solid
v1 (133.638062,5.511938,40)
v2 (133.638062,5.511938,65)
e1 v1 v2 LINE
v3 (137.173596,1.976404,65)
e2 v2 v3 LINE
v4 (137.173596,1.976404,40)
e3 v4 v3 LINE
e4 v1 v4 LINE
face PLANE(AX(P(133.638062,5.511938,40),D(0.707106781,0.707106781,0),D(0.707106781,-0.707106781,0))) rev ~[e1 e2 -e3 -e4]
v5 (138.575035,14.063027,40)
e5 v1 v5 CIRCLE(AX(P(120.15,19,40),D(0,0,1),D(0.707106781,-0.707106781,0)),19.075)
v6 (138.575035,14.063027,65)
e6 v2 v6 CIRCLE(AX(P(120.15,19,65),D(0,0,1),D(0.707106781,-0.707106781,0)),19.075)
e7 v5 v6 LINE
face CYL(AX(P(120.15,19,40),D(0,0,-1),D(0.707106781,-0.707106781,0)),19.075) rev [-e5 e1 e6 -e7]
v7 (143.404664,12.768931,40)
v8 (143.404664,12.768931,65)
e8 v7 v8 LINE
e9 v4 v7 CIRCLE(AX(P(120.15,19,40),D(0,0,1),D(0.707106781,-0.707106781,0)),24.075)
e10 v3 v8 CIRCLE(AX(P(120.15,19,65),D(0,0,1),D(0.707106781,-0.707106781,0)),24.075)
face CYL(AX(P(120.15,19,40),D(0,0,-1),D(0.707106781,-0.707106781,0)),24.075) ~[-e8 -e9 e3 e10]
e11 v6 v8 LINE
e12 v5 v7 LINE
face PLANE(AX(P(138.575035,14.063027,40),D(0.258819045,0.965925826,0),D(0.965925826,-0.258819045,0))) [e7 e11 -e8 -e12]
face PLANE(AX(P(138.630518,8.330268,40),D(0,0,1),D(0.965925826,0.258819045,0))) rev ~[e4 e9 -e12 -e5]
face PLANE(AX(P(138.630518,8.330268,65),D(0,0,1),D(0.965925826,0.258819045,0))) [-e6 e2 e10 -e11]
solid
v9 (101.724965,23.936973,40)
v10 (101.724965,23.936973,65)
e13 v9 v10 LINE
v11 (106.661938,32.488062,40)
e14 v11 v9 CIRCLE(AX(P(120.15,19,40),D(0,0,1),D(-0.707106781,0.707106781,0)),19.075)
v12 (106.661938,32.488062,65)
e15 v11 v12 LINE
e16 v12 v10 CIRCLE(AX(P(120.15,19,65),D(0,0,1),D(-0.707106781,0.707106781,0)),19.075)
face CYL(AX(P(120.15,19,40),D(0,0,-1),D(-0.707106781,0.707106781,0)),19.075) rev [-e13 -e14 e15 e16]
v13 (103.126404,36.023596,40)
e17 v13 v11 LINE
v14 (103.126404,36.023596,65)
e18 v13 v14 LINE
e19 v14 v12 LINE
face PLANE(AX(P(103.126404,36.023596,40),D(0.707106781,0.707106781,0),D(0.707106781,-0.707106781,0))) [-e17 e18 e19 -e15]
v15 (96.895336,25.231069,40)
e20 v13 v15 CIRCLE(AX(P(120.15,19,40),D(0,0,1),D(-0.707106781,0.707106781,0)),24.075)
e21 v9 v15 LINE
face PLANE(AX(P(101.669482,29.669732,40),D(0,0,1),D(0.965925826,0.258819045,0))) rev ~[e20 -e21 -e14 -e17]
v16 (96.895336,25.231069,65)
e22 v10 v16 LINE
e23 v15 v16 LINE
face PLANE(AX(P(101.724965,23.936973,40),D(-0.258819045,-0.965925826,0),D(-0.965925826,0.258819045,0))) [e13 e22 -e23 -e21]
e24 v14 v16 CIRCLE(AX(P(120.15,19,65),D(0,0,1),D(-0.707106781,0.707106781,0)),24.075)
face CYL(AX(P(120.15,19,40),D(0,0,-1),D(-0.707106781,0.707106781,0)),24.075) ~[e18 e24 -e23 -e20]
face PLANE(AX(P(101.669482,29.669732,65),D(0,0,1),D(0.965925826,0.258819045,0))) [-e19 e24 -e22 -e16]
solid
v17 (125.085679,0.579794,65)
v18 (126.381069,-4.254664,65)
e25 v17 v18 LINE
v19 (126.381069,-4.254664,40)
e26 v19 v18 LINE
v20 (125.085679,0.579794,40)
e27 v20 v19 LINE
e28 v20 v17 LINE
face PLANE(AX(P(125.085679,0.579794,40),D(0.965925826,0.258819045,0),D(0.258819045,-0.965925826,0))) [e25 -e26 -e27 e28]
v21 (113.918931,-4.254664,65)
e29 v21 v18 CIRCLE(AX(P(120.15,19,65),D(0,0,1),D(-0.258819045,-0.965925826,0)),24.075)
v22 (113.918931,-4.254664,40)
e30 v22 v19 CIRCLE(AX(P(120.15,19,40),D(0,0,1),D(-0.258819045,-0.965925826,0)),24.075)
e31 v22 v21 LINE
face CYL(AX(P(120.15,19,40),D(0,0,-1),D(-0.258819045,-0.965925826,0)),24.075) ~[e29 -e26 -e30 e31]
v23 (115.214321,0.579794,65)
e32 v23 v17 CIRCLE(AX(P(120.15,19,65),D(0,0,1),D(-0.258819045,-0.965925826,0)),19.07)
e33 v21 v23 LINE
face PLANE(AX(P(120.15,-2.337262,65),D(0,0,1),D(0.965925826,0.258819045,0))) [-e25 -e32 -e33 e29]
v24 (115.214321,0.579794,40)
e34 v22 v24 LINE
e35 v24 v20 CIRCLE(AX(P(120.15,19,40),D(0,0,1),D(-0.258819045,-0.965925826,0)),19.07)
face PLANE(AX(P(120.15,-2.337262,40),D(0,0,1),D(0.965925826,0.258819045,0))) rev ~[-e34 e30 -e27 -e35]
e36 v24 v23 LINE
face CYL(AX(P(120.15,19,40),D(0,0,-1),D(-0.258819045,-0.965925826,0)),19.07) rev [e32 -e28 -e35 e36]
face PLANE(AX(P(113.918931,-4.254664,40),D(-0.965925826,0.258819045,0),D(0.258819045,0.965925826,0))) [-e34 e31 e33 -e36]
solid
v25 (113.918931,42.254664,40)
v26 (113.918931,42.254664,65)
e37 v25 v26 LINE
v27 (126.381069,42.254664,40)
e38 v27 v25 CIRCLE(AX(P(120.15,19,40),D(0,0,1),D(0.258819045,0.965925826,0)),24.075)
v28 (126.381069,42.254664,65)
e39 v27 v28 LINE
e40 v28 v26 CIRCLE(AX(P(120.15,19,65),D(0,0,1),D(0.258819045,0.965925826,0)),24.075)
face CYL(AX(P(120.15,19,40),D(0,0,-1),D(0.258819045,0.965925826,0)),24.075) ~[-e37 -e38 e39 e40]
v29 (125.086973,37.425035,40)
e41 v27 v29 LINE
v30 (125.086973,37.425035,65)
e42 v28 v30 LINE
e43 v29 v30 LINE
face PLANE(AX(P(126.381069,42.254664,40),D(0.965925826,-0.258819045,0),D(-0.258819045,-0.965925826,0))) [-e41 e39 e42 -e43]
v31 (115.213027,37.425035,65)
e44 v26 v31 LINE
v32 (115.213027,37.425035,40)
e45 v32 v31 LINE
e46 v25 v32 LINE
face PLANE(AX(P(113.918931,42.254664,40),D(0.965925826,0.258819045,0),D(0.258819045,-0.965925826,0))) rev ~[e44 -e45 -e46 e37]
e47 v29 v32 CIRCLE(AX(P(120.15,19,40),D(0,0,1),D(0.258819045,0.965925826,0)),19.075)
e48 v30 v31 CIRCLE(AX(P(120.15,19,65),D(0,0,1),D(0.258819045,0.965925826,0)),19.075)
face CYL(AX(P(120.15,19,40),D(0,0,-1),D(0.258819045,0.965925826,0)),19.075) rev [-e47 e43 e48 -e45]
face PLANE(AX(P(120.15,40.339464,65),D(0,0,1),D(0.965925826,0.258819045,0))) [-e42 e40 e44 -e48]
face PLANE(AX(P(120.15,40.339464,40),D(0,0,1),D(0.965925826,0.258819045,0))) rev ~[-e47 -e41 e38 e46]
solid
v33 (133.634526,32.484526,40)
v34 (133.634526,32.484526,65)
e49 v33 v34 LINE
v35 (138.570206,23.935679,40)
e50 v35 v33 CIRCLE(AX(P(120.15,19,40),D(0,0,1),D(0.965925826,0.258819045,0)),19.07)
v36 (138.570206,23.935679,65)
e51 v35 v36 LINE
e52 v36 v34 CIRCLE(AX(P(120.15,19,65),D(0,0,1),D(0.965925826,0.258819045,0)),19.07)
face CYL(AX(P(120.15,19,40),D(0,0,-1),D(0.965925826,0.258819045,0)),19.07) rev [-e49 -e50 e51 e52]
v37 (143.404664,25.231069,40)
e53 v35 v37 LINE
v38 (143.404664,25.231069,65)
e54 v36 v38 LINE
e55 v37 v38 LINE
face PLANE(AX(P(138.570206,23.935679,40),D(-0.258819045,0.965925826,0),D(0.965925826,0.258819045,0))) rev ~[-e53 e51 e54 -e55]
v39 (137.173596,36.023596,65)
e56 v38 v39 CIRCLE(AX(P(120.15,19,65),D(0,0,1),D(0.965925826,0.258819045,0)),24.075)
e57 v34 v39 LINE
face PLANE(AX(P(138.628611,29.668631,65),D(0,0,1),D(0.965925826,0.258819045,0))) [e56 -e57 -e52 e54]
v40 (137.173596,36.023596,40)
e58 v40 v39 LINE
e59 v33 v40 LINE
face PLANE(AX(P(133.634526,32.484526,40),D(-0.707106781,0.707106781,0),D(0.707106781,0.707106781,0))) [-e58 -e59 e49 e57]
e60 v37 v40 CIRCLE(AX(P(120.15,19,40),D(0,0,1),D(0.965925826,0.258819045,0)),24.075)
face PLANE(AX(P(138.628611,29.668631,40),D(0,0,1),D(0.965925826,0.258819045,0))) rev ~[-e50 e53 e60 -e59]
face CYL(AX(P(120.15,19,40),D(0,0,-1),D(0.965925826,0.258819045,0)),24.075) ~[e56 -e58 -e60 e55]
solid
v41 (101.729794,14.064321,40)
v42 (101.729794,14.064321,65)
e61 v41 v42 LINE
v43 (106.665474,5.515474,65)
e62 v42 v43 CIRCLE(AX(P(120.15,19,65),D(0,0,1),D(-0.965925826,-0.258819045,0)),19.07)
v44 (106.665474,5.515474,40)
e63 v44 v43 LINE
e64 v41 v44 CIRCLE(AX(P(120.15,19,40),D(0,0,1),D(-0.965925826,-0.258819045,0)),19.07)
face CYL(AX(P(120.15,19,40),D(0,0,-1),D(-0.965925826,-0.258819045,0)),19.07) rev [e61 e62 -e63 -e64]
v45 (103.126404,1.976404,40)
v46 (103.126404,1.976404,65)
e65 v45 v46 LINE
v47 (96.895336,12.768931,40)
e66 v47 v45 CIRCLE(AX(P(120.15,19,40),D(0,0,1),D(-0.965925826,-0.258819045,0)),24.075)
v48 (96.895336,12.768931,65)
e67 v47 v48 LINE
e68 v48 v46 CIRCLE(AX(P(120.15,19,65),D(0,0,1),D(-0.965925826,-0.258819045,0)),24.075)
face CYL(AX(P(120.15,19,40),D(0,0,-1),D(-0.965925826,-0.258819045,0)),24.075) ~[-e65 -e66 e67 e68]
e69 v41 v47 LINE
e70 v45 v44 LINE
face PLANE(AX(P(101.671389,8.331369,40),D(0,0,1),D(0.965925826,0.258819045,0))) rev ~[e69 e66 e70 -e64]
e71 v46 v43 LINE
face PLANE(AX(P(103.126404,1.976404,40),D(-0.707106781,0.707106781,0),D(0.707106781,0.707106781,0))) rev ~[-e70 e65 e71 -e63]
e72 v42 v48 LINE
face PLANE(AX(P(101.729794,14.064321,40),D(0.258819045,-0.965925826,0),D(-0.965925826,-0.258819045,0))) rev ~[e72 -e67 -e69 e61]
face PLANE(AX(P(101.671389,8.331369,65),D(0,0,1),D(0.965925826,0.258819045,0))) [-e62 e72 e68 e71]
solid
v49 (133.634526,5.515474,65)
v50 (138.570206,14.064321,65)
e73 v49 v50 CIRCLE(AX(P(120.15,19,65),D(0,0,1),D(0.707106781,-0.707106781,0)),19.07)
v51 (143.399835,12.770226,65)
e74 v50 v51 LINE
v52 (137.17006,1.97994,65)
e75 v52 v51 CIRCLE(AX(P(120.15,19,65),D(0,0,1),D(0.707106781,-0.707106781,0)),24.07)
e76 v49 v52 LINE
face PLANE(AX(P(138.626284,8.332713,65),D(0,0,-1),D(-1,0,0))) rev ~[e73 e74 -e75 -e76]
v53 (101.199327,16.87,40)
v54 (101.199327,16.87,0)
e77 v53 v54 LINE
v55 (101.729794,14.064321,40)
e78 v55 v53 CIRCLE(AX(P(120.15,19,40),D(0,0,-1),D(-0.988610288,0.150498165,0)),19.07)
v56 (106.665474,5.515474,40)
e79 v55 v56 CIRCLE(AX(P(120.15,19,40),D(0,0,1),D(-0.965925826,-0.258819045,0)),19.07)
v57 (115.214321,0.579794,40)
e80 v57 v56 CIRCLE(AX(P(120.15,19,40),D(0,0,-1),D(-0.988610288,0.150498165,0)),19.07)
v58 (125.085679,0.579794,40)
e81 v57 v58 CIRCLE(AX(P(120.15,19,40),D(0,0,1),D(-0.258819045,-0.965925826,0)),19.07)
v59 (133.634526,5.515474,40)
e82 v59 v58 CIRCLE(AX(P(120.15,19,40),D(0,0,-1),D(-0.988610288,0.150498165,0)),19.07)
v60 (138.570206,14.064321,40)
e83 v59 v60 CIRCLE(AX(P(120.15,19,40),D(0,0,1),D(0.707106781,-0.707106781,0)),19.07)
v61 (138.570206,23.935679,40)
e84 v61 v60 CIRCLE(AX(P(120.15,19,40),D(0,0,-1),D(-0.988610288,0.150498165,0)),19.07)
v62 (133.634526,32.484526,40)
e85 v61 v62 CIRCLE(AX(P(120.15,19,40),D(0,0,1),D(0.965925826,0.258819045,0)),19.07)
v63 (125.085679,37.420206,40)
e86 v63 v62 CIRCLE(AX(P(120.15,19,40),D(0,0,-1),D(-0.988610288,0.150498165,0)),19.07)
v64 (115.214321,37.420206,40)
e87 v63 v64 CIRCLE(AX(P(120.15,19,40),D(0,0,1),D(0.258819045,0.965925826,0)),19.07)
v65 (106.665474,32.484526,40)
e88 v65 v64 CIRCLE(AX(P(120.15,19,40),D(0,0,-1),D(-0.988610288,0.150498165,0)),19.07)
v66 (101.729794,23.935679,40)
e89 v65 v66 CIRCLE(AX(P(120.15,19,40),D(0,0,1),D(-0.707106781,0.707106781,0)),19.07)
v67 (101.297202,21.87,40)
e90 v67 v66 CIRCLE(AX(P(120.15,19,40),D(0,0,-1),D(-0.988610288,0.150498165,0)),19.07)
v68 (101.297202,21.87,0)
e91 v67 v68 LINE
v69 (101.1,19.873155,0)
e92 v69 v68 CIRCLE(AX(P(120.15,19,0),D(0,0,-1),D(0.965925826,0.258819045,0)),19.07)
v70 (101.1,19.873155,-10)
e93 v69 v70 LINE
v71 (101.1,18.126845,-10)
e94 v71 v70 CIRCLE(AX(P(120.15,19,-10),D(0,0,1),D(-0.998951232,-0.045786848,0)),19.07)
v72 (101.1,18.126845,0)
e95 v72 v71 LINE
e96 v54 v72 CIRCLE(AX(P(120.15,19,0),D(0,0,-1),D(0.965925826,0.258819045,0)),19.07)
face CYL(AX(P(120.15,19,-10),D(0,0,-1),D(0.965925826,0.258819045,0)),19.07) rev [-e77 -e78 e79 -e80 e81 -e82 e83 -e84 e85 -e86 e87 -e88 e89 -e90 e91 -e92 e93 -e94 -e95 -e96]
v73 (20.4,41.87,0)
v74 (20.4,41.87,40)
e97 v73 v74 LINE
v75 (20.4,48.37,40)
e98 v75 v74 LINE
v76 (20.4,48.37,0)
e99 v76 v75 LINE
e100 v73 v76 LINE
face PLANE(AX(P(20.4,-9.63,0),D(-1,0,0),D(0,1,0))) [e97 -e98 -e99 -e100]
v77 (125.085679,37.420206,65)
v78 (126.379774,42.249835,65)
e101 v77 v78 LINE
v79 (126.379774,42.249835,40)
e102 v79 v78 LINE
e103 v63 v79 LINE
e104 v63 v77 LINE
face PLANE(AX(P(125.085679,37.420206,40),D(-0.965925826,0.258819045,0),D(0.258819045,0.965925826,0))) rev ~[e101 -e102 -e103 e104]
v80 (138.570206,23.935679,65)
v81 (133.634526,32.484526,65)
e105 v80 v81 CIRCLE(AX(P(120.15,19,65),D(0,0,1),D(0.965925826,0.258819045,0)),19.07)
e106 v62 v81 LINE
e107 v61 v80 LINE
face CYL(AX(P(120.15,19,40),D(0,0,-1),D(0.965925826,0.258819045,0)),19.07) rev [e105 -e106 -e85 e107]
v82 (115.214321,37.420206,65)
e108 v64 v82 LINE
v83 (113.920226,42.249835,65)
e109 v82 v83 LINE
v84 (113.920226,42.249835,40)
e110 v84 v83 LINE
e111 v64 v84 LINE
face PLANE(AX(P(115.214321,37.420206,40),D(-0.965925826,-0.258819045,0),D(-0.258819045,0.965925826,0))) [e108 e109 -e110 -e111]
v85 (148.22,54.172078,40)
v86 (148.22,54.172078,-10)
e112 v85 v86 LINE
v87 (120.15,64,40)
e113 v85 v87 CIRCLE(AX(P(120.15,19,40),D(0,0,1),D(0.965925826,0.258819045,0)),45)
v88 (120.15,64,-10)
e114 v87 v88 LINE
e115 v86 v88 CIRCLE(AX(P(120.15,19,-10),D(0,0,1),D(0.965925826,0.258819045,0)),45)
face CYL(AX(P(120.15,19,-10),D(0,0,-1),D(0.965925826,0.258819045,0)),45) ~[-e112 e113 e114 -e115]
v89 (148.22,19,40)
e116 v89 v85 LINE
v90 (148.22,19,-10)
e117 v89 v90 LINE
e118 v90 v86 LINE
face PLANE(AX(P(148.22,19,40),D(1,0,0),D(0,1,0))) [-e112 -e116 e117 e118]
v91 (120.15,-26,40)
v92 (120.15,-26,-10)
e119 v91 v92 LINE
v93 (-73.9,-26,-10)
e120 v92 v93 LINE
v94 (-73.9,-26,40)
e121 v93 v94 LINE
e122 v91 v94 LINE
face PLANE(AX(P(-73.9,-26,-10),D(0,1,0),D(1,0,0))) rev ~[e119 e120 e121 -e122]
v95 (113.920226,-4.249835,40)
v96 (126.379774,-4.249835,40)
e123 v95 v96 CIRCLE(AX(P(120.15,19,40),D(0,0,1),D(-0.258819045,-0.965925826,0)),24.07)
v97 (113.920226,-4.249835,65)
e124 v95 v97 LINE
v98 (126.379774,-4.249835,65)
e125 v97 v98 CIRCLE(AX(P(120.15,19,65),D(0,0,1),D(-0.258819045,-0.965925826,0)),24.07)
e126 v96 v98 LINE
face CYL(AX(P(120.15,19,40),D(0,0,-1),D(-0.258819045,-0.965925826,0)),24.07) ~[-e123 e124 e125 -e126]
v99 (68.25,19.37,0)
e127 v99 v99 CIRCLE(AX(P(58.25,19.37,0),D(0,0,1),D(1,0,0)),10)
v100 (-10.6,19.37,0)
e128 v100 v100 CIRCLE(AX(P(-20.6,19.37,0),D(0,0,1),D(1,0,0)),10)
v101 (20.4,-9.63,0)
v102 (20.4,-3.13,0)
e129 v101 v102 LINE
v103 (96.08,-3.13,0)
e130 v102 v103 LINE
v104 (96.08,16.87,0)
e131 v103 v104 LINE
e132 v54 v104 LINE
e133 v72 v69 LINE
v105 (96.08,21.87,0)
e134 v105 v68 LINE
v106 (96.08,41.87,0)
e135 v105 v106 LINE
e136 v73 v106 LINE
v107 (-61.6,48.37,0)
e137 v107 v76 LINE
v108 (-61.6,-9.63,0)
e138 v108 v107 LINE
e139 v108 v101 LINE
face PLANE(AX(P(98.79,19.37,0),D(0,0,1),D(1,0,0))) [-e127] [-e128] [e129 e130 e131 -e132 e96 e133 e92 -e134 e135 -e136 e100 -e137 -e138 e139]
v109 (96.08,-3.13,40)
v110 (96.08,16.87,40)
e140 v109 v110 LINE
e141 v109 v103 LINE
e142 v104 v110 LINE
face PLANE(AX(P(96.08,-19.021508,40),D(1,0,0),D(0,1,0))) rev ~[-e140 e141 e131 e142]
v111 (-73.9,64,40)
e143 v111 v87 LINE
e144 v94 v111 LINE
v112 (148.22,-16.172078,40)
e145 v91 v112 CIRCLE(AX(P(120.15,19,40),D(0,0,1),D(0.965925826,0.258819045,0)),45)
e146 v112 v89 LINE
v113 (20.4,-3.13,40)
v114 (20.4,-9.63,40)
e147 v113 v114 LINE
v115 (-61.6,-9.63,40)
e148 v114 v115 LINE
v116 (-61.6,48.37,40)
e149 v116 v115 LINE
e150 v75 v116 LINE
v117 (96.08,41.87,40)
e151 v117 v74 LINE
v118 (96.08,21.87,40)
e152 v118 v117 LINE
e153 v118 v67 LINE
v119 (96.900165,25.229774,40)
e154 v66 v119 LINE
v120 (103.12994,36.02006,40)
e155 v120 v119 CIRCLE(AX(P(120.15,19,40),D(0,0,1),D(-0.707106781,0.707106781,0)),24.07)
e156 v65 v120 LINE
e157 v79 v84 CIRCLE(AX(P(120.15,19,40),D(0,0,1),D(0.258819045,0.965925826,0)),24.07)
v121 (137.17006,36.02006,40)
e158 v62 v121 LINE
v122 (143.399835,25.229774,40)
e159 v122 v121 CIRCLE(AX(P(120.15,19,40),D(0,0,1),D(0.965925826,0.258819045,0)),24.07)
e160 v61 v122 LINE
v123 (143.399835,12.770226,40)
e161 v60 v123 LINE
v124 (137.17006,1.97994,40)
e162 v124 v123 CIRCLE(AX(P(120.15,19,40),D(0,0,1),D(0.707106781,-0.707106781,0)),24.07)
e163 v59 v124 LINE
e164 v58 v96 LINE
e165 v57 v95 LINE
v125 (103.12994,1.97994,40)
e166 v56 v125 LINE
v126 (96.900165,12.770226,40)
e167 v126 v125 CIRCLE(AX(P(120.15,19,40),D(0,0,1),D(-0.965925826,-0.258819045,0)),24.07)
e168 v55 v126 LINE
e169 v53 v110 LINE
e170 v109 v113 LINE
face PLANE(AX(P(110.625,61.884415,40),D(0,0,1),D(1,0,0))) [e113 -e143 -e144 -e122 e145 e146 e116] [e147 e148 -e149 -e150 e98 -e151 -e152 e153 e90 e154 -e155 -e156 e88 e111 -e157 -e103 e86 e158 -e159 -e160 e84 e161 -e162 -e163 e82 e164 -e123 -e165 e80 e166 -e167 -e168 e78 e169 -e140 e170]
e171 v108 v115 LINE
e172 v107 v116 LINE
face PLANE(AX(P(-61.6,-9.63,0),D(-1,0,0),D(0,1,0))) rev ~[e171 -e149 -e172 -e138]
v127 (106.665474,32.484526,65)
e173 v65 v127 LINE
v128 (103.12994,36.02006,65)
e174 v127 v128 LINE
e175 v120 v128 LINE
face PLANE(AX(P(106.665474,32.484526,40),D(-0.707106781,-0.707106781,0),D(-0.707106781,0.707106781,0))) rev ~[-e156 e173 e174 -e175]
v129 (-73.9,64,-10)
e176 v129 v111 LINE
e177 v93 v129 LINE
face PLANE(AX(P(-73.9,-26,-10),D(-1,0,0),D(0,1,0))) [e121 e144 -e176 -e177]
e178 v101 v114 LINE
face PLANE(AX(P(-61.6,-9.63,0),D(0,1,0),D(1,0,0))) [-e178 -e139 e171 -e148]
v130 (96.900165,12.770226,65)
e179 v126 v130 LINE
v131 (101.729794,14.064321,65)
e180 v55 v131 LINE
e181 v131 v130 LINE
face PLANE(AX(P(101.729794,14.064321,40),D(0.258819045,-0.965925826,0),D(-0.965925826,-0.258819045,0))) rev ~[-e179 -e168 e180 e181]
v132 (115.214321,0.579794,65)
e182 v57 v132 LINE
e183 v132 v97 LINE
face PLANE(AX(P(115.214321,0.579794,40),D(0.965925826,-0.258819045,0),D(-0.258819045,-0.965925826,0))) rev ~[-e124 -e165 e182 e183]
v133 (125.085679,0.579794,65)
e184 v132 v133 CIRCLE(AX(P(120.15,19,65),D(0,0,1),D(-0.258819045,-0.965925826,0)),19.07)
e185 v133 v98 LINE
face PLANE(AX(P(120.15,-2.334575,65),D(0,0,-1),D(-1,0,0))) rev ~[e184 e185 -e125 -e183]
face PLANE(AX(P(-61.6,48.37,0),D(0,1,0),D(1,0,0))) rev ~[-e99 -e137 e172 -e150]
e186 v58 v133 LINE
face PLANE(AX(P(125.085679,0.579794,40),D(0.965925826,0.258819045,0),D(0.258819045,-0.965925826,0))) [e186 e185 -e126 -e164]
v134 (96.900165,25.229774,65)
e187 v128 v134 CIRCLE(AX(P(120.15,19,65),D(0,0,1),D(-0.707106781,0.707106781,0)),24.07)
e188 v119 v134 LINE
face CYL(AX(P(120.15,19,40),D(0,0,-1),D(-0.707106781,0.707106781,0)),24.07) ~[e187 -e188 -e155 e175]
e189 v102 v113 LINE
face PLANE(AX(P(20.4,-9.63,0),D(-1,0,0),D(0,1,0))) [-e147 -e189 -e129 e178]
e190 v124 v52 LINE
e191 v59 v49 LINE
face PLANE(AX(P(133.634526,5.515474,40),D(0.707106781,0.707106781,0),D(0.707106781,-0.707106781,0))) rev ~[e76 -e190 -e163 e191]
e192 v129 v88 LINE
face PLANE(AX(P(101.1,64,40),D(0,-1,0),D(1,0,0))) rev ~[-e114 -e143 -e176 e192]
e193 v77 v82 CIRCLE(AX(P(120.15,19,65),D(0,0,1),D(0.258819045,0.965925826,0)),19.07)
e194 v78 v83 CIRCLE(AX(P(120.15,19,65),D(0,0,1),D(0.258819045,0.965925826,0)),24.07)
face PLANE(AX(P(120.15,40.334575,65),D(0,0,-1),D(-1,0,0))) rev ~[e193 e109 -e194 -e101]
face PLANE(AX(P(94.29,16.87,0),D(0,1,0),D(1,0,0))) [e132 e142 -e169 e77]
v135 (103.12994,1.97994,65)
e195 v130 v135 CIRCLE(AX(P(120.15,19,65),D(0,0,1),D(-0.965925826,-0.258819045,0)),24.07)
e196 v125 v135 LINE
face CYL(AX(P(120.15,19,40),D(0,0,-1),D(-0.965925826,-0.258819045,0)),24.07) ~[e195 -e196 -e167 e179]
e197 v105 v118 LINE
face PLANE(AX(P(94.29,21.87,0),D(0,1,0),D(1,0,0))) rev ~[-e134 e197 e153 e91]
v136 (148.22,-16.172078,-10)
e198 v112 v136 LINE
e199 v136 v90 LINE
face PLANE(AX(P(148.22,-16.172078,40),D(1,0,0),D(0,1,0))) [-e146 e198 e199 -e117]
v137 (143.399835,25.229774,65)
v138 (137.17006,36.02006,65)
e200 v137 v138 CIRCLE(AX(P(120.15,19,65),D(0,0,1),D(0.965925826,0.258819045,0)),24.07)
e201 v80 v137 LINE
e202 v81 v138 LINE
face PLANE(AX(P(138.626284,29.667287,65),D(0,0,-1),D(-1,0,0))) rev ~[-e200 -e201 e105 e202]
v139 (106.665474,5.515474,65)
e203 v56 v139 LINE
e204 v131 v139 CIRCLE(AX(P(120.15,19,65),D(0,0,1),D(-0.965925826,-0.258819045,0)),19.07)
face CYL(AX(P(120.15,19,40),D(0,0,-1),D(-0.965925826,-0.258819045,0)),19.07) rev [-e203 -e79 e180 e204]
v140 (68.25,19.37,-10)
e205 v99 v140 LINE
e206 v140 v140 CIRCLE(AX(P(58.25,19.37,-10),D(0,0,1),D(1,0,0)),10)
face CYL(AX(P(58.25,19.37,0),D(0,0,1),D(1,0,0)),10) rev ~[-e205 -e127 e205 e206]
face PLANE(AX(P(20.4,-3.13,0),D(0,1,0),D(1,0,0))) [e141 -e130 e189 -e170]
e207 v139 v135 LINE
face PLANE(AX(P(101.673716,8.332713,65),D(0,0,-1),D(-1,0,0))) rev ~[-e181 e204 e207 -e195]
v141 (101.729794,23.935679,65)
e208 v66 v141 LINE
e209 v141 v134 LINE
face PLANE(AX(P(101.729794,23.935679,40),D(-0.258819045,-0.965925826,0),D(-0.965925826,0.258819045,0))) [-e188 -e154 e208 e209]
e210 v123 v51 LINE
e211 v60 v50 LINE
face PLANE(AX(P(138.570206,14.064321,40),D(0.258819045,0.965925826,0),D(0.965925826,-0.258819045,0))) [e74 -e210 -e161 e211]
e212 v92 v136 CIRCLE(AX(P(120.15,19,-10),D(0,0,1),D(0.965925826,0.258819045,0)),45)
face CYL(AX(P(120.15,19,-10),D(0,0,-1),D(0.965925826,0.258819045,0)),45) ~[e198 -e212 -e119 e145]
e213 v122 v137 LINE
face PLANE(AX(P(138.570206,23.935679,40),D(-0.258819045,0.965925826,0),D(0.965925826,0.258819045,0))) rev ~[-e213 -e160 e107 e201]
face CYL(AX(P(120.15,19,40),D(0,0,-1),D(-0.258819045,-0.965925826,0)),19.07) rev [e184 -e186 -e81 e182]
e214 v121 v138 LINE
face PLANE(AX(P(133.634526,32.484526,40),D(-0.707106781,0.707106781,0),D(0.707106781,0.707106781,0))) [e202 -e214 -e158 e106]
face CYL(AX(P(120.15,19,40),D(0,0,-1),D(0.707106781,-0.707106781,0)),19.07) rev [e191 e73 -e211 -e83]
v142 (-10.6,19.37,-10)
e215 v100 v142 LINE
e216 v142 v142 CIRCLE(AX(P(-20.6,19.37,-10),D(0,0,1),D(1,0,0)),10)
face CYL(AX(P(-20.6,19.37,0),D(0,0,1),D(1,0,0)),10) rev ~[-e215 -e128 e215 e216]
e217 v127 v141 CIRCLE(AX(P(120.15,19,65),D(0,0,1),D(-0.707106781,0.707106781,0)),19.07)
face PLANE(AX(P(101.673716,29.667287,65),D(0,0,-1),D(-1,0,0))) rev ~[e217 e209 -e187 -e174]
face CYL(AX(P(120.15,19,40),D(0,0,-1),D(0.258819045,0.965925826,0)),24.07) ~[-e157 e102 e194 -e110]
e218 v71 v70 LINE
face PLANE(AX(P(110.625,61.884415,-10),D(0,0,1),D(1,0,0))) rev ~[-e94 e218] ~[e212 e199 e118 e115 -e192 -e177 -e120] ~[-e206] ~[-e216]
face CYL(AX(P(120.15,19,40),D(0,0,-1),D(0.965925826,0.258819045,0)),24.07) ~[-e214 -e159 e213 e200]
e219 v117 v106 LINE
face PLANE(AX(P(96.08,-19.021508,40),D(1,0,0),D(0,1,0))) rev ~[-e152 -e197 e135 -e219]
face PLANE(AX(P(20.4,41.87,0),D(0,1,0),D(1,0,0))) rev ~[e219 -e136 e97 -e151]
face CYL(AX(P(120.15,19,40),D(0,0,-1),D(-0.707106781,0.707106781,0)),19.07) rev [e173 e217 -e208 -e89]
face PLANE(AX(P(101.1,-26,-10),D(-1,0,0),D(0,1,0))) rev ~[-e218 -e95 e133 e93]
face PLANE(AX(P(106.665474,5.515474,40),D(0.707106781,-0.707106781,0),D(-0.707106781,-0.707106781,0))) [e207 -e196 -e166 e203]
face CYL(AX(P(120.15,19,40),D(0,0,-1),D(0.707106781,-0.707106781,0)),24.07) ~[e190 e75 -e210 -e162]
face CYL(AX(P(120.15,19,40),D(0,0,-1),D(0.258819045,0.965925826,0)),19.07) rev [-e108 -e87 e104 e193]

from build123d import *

# Parameters (mm, degrees)
EXTRUDE004_DEPTH                          = 25
EXTRUDE004_ONTO_SKETCH003_PLACEMENT_ANGLE = 15
SKETCH005_W                               = 9
SKETCH005_H                               = 5
EXTRUDE008_DEPTH                          = 40
EXTRUDE005_DEPTH                          = 50
EXTRUDE005_ONTO_SKETCH004_PLACEMENT_ANGLE = 15
TUBE_R                                    = 45
TUBE_R_2                                  = 19.07
TUBE_DEPTH                                = 50
TUBE_PLACEMENT_ANGLE                      = 15
SKETCH007_W                               = 19.05
SKETCH007_H                               = 4.2311699947
EXTRUDE009_DEPTH                          = 50
SKETCH006_R                               = 10
EXTRUDE007_DEPTH                          = 20
BOX001_W                                  = 82
BOX001_H                                  = 58
BOX001_DEPTH                              = 44.4
BOX007_W                                  = 5
BOX007_H                                  = 5
BOX007_DEPTH                              = 44.4
SKETCH001_R                               = 5
EXTRUDE001_DEPTH                          = 4
EXTRUDE002_DEPTH                          = 15
SKETCH_R                                  = 12.3
EXTRUDE_DEPTH                             = 5
BOX_W                                     = 75.7
BOX_H                                     = 45
BOX_DEPTH                                 = 44.4
BOX002_W                                  = 175
BOX002_H                                  = 90
BOX002_DEPTH                              = 50
EXTRUDE010_DEPTH                          = 25


with BuildPart() as fingers:
    # Sketch003 as drawn → Extrude004 (new)
    with BuildSketch(Plane.XY):
        with BuildLine():
            ThreePointArc((12.0375, 20.8495615961), (6.2310685108, 23.2546642679), (0, 24.075))
            Line((0, 24.075), (0, 19.075))
            ThreePointArc((9.5375, 16.5194345772), (4.9369732853, 18.4250351365), (0, 19.075))
            Line((12.0375, 20.8495615961), (9.5375, 16.5194345772))
        make_face()
        with BuildLine():
            ThreePointArc((24.075, 0), (23.2546642679, 6.2310685108), (20.8495615961, 12.0375))
            Line((16.5151044502, 9.535), (20.8495615961, 12.0375))
            ThreePointArc((19.07, 0), (18.4202055073, 4.9356791901), (16.5151044502, 9.535))
            Line((19.07, 0), (24.075, 0))
        make_face()
        with BuildLine():
            ThreePointArc((12.0375, -20.8495615961), (17.0235957571, -17.0235957571), (20.8495615961, -12.0375))
            Line((16.5194345772, -9.5375), (20.8495615961, -12.0375))
            ThreePointArc((9.5375, -16.5194345772), (13.4880618511, -13.4880618511), (16.5194345772, -9.5375))
            Line((9.5375, -16.5194345772), (12.0375, -20.8495615961))
        make_face()
        with BuildLine():
            ThreePointArc((-12.0375, -20.8495615961), (-6.2310685108, -23.2546642679), (0, -24.075))
            Line((0, -19.07), (0, -24.075))
            ThreePointArc((-9.535, -16.5151044502), (-4.9356791901, -18.4202055073), (0, -19.07))
            Line((-12.0375, -20.8495615961), (-9.535, -16.5151044502))
        make_face()
        with BuildLine():
            ThreePointArc((-24.075, 0), (-23.2546642679, -6.2310685108), (-20.8495615961, -12.0375))
            Line((-20.8495615961, -12.0375), (-16.5151044502, -9.535))
            ThreePointArc((-19.07, 0), (-18.4202055073, -4.9356791901), (-16.5151044502, -9.535))
            Line((-19.07, 0), (-24.075, 0))
        make_face()
        with BuildLine():
            ThreePointArc((-12.0375, 20.8495615961), (-17.0235957571, 17.0235957571), (-20.8495615961, 12.0375))
            Line((-16.5194345772, 9.5375), (-20.8495615961, 12.0375))
            ThreePointArc((-9.5375, 16.5194345772), (-13.4880618511, 13.4880618511), (-16.5194345772, 9.5375))
            Line((-12.0375, 20.8495615961), (-9.5375, 16.5194345772))
        make_face()
    extrude(amount=EXTRUDE004_DEPTH)


with BuildPart() as fingers_1:
    # Extrude004 onto Sketch003 placement: moved
    add(fingers.part.moved(Location((120.15, 19, 40))).rotate(Axis((120.15, 19, 40), (0, 0, 1)), EXTRUDE004_ONTO_SKETCH003_PLACEMENT_ANGLE))


with BuildPart() as extrude008:
    # Sketch005 (on Face18 of Cut) → Extrude008 (new body)
    with BuildSketch(Plane.XY):
        with Locations((80.5, 19.37)):
            Rectangle(SKETCH005_W, SKETCH005_H)
    extrude(amount=EXTRUDE008_DEPTH)


with BuildPart() as extrude008_1:
    # Extrude008 placement: moved
    add(extrude008.part.moved(Location((18.29, 0, 0))))


with BuildPart() as roundoff:
    # Sketch004 as drawn → Extrude005 (new)
    with BuildSketch(Plane.XY):
        Polygon((27.1135379439, -7.265050596), (36.2167416935, 26.7085683089), (52.5698659325, 22.3267618753), (43.466662183, -11.6468570296), (34.3634584335, -45.6204759345), (18.0103341944, -41.2386695009), align=None)
        Polygon((-33.0905251328, -30.4961824896), (-13.4091441448, 42.9557313208), (-33.625971689, 48.3728139348), (-43.466662183, 11.6468570296), (-53.307352677, -25.0790998756), align=None)
    extrude(amount=-EXTRUDE005_DEPTH)


with BuildPart() as roundoff_1:
    # Extrude005 onto Sketch004 placement: moved
    add(roundoff.part.moved(Location((120.15, 19, 40))).rotate(Axis((120.15, 19, 40), (0, 0, 1)), EXTRUDE005_ONTO_SKETCH004_PLACEMENT_ANGLE))


with BuildPart() as cut003:
    # Tube → Tube (new body)
    with BuildSketch(Plane.XY):
        Circle(TUBE_R)
        Circle(TUBE_R_2, mode=Mode.SUBTRACT)
    extrude(amount=TUBE_DEPTH)


with BuildPart() as cut003_1:
    # Tube placement: moved
    add(cut003.part.moved(Location((120.15, 19, -10))).rotate(Axis((120.15, 19, -10), (0, 0, 1)), TUBE_PLACEMENT_ANGLE))

    # Cut001: cut RoundOff
    add(roundoff_1.part, mode=Mode.SUBTRACT)

    # Cut003: cut Extrude008
    add(extrude008_1.part, mode=Mode.SUBTRACT)


with BuildPart() as bridgingblocks:
    # Sketch007 → Extrude009 (new body)
    with BuildSketch(Plane.XY.offset(40)):
        with Locations((110.625, -23.8844150026)):
            Rectangle(SKETCH007_W, SKETCH007_H)
        with Locations((110.625, 61.8844150026)):
            Rectangle(SKETCH007_W, SKETCH007_H)
    extrude(amount=-EXTRUDE009_DEPTH)


with BuildPart() as holepunchextrude001:
    # Sketch006 (on Face20 of Cut) → Extrude007 (new body)
    with BuildSketch(Plane.XY):
        with Locations((-38.7, 19.37)):
            Circle(SKETCH006_R)
        with Locations((40.15, 19.37)):
            Circle(SKETCH006_R)
    extrude(amount=-EXTRUDE007_DEPTH)


with BuildPart() as motorhead:
    # Box001 → Box001 (new body)
    with BuildSketch(Plane(origin=(-82, -9.63, 0), x_dir=(1, 0, 0), z_dir=(0, 0, 1))):
        with Locations((41, 29)):
            Rectangle(BOX001_W, BOX001_H)
    extrude(amount=BOX001_DEPTH)


with BuildPart() as nubchannel:
    # Box007 → Box007 (new body)
    with BuildSketch(Plane(origin=(75.7, 16.87, 0), x_dir=(1, 0, 0), z_dir=(0, 0, 1))):
        with Locations((2.5, 2.5)):
            Rectangle(BOX007_W, BOX007_H)
    extrude(amount=BOX007_DEPTH)


with BuildPart() as motorshaftfull:
    # Sketch001 (on Face3 of Extrude) → Extrude001 (new body)
    with BuildSketch(Plane.XY.offset(49.4)):
        with Locations((-58.7, 20.37)):
            Circle(SKETCH001_R)
    extrude(amount=EXTRUDE001_DEPTH)


with BuildPart() as motorshaftd:
    # Sketch002 (on Face3 of Extrude001) → Extrude002 (new body)
    with BuildSketch(Plane.XY.offset(53.4)):
        with BuildLine():
            Line((-62.7, 23.37), (-62.7, 17.37))
            ThreePointArc((-62.7, 17.37), (-53.7, 20.37), (-62.7, 23.37))
        make_face()
    extrude(amount=EXTRUDE002_DEPTH)


with BuildPart() as motorshaftassembly:
    # Sketch (on Face6 of Box001) → Extrude (new body)
    with BuildSketch(Plane(origin=(-82, -9.63, 44.4), x_dir=(1, 0, 0), z_dir=(0, 0, 1))):
        with Locations((23.3, 30)):
            Circle(SKETCH_R)
    extrude(amount=EXTRUDE_DEPTH)

    # Fusion: union MotorShaftFull, MotorShaftD
    add(motorshaftfull.part)
    add(motorshaftd.part)


with BuildPart() as motor:
    # Box → Box (new body)
    with BuildSketch(Plane(origin=(0, -3.13, 0), x_dir=(1, 0, 0), z_dir=(0, 0, 1))):
        with Locations((37.85, 22.5)):
            Rectangle(BOX_W, BOX_H)
    extrude(amount=BOX_DEPTH)

    # Fusion005: union MotorHead, NubChannel, MotorShaftAssembly
    add(motorhead.part)
    add(nubchannel.part)
    add(motorshaftassembly.part)


with BuildPart() as motor_1:
    # Fusion005 placement: moved
    add(motor.part.moved(Location((2.3, 0, 0))))


with BuildPart() as fusion006:
    # Box002 → Box002 (new body)
    with BuildSketch(Plane(origin=(-92, -26, -10), x_dir=(1, 0, 0), z_dir=(0, 0, 1))):
        with Locations((87.5, 45)):
            Rectangle(BOX002_W, BOX002_H)
    extrude(amount=BOX002_DEPTH)

    # Cut: cut Motor
    add(motor_1.part, mode=Mode.SUBTRACT)

    # Cut002: cut HolePunchExtrude001
    add(holepunchextrude001.part, mode=Mode.SUBTRACT)


with BuildPart() as fusion006_1:
    # Cut002 placement: moved
    add(fusion006.part.moved(Location((18.1, 0, 0))))

    # Fusion006: union Cut003, BridgingBlocks
    add(cut003_1.part)
    add(bridgingblocks.part)


with BuildPart() as motormountmk3:
    # Sketch008 (on Face26 of Fusion006) → Extrude010 (new body)
    with BuildSketch(Plane.XY.offset(40)):
        with BuildLine():
            ThreePointArc((133.6345263172, 5.5154736828), (136.6651044502, 9.465), (138.5702055073, 14.0643208099))
            Line((138.5702055073, 14.0643208099), (143.3998346388, 12.7702255844))
            ThreePointArc((137.1700602232, 1.9799397768), (140.9952314691, 6.965), (143.3998346388, 12.7702255844))
            Line((133.6345263172, 5.5154736828), (137.1700602232, 1.9799397768))
        make_face()
        with BuildLine():
            ThreePointArc((115.2143208099, 0.5797944927), (120.15, -0.07), (125.0856791901, 0.5797944927))
            Line((125.0856791901, 0.5797944927), (126.3797744156, -4.2498346388))
            ThreePointArc((113.9202255845, -4.2498346388), (120.1500000001, -5.07), (126.3797744156, -4.2498346388))
            Line((115.2143208099, 0.5797944927), (113.9202255845, -4.2498346389))
        make_face()
        with BuildLine():
            ThreePointArc((101.7297944927, 14.0643208099), (103.6348955498, 9.465), (106.6654736828, 5.5154736828))
            Line((106.6654736828, 5.5154736828), (103.1299397768, 1.9799397768))
            ThreePointArc((96.9001653612, 12.7702255844), (99.3047685309, 6.965), (103.1299397768, 1.9799397768))
            Line((101.7297944927, 14.0643208099), (96.9001653612, 12.7702255844))
        make_face()
        with BuildLine():
            ThreePointArc((138.5702055073, 23.9356791901), (136.6651044502, 28.535), (133.6345263172, 32.4845263172))
            Line((133.6345263172, 32.4845263172), (137.1700602232, 36.0200602232))
            ThreePointArc((143.3998346388, 25.2297744156), (140.9952314691, 31.035), (137.1700602232, 36.0200602232))
            Line((138.5702055073, 23.9356791901), (143.3998346388, 25.2297744156))
        make_face()
        with BuildLine():
            ThreePointArc((125.0856791901, 37.4202055073), (120.15, 38.07), (115.2143208099, 37.4202055073))
            Line((115.2143208099, 37.4202055073), (113.9202255844, 42.2498346388))
            ThreePointArc((126.3797744156, 42.2498346388), (120.15, 43.07), (113.9202255844, 42.2498346388))
            Line((125.0856791901, 37.4202055073), (126.3797744156, 42.2498346388))
        make_face()
        with BuildLine():
            ThreePointArc((106.6654736828, 32.4845263172), (103.6348955498, 28.535), (101.7297944927, 23.9356791901))
            Line((101.7297944927, 23.9356791901), (96.9001653612, 25.2297744156))
            ThreePointArc((103.1299397768, 36.0200602232), (99.3047685309, 31.035), (96.9001653612, 25.2297744156))
            Line((106.6654736828, 32.4845263172), (103.1299397768, 36.0200602232))
        make_face()
    extrude(amount=EXTRUDE010_DEPTH)

    # Fusion007: union Fusion006
    add(fusion006_1.part)


solid = Compound([fingers_1.part, motormountmk3.part])
